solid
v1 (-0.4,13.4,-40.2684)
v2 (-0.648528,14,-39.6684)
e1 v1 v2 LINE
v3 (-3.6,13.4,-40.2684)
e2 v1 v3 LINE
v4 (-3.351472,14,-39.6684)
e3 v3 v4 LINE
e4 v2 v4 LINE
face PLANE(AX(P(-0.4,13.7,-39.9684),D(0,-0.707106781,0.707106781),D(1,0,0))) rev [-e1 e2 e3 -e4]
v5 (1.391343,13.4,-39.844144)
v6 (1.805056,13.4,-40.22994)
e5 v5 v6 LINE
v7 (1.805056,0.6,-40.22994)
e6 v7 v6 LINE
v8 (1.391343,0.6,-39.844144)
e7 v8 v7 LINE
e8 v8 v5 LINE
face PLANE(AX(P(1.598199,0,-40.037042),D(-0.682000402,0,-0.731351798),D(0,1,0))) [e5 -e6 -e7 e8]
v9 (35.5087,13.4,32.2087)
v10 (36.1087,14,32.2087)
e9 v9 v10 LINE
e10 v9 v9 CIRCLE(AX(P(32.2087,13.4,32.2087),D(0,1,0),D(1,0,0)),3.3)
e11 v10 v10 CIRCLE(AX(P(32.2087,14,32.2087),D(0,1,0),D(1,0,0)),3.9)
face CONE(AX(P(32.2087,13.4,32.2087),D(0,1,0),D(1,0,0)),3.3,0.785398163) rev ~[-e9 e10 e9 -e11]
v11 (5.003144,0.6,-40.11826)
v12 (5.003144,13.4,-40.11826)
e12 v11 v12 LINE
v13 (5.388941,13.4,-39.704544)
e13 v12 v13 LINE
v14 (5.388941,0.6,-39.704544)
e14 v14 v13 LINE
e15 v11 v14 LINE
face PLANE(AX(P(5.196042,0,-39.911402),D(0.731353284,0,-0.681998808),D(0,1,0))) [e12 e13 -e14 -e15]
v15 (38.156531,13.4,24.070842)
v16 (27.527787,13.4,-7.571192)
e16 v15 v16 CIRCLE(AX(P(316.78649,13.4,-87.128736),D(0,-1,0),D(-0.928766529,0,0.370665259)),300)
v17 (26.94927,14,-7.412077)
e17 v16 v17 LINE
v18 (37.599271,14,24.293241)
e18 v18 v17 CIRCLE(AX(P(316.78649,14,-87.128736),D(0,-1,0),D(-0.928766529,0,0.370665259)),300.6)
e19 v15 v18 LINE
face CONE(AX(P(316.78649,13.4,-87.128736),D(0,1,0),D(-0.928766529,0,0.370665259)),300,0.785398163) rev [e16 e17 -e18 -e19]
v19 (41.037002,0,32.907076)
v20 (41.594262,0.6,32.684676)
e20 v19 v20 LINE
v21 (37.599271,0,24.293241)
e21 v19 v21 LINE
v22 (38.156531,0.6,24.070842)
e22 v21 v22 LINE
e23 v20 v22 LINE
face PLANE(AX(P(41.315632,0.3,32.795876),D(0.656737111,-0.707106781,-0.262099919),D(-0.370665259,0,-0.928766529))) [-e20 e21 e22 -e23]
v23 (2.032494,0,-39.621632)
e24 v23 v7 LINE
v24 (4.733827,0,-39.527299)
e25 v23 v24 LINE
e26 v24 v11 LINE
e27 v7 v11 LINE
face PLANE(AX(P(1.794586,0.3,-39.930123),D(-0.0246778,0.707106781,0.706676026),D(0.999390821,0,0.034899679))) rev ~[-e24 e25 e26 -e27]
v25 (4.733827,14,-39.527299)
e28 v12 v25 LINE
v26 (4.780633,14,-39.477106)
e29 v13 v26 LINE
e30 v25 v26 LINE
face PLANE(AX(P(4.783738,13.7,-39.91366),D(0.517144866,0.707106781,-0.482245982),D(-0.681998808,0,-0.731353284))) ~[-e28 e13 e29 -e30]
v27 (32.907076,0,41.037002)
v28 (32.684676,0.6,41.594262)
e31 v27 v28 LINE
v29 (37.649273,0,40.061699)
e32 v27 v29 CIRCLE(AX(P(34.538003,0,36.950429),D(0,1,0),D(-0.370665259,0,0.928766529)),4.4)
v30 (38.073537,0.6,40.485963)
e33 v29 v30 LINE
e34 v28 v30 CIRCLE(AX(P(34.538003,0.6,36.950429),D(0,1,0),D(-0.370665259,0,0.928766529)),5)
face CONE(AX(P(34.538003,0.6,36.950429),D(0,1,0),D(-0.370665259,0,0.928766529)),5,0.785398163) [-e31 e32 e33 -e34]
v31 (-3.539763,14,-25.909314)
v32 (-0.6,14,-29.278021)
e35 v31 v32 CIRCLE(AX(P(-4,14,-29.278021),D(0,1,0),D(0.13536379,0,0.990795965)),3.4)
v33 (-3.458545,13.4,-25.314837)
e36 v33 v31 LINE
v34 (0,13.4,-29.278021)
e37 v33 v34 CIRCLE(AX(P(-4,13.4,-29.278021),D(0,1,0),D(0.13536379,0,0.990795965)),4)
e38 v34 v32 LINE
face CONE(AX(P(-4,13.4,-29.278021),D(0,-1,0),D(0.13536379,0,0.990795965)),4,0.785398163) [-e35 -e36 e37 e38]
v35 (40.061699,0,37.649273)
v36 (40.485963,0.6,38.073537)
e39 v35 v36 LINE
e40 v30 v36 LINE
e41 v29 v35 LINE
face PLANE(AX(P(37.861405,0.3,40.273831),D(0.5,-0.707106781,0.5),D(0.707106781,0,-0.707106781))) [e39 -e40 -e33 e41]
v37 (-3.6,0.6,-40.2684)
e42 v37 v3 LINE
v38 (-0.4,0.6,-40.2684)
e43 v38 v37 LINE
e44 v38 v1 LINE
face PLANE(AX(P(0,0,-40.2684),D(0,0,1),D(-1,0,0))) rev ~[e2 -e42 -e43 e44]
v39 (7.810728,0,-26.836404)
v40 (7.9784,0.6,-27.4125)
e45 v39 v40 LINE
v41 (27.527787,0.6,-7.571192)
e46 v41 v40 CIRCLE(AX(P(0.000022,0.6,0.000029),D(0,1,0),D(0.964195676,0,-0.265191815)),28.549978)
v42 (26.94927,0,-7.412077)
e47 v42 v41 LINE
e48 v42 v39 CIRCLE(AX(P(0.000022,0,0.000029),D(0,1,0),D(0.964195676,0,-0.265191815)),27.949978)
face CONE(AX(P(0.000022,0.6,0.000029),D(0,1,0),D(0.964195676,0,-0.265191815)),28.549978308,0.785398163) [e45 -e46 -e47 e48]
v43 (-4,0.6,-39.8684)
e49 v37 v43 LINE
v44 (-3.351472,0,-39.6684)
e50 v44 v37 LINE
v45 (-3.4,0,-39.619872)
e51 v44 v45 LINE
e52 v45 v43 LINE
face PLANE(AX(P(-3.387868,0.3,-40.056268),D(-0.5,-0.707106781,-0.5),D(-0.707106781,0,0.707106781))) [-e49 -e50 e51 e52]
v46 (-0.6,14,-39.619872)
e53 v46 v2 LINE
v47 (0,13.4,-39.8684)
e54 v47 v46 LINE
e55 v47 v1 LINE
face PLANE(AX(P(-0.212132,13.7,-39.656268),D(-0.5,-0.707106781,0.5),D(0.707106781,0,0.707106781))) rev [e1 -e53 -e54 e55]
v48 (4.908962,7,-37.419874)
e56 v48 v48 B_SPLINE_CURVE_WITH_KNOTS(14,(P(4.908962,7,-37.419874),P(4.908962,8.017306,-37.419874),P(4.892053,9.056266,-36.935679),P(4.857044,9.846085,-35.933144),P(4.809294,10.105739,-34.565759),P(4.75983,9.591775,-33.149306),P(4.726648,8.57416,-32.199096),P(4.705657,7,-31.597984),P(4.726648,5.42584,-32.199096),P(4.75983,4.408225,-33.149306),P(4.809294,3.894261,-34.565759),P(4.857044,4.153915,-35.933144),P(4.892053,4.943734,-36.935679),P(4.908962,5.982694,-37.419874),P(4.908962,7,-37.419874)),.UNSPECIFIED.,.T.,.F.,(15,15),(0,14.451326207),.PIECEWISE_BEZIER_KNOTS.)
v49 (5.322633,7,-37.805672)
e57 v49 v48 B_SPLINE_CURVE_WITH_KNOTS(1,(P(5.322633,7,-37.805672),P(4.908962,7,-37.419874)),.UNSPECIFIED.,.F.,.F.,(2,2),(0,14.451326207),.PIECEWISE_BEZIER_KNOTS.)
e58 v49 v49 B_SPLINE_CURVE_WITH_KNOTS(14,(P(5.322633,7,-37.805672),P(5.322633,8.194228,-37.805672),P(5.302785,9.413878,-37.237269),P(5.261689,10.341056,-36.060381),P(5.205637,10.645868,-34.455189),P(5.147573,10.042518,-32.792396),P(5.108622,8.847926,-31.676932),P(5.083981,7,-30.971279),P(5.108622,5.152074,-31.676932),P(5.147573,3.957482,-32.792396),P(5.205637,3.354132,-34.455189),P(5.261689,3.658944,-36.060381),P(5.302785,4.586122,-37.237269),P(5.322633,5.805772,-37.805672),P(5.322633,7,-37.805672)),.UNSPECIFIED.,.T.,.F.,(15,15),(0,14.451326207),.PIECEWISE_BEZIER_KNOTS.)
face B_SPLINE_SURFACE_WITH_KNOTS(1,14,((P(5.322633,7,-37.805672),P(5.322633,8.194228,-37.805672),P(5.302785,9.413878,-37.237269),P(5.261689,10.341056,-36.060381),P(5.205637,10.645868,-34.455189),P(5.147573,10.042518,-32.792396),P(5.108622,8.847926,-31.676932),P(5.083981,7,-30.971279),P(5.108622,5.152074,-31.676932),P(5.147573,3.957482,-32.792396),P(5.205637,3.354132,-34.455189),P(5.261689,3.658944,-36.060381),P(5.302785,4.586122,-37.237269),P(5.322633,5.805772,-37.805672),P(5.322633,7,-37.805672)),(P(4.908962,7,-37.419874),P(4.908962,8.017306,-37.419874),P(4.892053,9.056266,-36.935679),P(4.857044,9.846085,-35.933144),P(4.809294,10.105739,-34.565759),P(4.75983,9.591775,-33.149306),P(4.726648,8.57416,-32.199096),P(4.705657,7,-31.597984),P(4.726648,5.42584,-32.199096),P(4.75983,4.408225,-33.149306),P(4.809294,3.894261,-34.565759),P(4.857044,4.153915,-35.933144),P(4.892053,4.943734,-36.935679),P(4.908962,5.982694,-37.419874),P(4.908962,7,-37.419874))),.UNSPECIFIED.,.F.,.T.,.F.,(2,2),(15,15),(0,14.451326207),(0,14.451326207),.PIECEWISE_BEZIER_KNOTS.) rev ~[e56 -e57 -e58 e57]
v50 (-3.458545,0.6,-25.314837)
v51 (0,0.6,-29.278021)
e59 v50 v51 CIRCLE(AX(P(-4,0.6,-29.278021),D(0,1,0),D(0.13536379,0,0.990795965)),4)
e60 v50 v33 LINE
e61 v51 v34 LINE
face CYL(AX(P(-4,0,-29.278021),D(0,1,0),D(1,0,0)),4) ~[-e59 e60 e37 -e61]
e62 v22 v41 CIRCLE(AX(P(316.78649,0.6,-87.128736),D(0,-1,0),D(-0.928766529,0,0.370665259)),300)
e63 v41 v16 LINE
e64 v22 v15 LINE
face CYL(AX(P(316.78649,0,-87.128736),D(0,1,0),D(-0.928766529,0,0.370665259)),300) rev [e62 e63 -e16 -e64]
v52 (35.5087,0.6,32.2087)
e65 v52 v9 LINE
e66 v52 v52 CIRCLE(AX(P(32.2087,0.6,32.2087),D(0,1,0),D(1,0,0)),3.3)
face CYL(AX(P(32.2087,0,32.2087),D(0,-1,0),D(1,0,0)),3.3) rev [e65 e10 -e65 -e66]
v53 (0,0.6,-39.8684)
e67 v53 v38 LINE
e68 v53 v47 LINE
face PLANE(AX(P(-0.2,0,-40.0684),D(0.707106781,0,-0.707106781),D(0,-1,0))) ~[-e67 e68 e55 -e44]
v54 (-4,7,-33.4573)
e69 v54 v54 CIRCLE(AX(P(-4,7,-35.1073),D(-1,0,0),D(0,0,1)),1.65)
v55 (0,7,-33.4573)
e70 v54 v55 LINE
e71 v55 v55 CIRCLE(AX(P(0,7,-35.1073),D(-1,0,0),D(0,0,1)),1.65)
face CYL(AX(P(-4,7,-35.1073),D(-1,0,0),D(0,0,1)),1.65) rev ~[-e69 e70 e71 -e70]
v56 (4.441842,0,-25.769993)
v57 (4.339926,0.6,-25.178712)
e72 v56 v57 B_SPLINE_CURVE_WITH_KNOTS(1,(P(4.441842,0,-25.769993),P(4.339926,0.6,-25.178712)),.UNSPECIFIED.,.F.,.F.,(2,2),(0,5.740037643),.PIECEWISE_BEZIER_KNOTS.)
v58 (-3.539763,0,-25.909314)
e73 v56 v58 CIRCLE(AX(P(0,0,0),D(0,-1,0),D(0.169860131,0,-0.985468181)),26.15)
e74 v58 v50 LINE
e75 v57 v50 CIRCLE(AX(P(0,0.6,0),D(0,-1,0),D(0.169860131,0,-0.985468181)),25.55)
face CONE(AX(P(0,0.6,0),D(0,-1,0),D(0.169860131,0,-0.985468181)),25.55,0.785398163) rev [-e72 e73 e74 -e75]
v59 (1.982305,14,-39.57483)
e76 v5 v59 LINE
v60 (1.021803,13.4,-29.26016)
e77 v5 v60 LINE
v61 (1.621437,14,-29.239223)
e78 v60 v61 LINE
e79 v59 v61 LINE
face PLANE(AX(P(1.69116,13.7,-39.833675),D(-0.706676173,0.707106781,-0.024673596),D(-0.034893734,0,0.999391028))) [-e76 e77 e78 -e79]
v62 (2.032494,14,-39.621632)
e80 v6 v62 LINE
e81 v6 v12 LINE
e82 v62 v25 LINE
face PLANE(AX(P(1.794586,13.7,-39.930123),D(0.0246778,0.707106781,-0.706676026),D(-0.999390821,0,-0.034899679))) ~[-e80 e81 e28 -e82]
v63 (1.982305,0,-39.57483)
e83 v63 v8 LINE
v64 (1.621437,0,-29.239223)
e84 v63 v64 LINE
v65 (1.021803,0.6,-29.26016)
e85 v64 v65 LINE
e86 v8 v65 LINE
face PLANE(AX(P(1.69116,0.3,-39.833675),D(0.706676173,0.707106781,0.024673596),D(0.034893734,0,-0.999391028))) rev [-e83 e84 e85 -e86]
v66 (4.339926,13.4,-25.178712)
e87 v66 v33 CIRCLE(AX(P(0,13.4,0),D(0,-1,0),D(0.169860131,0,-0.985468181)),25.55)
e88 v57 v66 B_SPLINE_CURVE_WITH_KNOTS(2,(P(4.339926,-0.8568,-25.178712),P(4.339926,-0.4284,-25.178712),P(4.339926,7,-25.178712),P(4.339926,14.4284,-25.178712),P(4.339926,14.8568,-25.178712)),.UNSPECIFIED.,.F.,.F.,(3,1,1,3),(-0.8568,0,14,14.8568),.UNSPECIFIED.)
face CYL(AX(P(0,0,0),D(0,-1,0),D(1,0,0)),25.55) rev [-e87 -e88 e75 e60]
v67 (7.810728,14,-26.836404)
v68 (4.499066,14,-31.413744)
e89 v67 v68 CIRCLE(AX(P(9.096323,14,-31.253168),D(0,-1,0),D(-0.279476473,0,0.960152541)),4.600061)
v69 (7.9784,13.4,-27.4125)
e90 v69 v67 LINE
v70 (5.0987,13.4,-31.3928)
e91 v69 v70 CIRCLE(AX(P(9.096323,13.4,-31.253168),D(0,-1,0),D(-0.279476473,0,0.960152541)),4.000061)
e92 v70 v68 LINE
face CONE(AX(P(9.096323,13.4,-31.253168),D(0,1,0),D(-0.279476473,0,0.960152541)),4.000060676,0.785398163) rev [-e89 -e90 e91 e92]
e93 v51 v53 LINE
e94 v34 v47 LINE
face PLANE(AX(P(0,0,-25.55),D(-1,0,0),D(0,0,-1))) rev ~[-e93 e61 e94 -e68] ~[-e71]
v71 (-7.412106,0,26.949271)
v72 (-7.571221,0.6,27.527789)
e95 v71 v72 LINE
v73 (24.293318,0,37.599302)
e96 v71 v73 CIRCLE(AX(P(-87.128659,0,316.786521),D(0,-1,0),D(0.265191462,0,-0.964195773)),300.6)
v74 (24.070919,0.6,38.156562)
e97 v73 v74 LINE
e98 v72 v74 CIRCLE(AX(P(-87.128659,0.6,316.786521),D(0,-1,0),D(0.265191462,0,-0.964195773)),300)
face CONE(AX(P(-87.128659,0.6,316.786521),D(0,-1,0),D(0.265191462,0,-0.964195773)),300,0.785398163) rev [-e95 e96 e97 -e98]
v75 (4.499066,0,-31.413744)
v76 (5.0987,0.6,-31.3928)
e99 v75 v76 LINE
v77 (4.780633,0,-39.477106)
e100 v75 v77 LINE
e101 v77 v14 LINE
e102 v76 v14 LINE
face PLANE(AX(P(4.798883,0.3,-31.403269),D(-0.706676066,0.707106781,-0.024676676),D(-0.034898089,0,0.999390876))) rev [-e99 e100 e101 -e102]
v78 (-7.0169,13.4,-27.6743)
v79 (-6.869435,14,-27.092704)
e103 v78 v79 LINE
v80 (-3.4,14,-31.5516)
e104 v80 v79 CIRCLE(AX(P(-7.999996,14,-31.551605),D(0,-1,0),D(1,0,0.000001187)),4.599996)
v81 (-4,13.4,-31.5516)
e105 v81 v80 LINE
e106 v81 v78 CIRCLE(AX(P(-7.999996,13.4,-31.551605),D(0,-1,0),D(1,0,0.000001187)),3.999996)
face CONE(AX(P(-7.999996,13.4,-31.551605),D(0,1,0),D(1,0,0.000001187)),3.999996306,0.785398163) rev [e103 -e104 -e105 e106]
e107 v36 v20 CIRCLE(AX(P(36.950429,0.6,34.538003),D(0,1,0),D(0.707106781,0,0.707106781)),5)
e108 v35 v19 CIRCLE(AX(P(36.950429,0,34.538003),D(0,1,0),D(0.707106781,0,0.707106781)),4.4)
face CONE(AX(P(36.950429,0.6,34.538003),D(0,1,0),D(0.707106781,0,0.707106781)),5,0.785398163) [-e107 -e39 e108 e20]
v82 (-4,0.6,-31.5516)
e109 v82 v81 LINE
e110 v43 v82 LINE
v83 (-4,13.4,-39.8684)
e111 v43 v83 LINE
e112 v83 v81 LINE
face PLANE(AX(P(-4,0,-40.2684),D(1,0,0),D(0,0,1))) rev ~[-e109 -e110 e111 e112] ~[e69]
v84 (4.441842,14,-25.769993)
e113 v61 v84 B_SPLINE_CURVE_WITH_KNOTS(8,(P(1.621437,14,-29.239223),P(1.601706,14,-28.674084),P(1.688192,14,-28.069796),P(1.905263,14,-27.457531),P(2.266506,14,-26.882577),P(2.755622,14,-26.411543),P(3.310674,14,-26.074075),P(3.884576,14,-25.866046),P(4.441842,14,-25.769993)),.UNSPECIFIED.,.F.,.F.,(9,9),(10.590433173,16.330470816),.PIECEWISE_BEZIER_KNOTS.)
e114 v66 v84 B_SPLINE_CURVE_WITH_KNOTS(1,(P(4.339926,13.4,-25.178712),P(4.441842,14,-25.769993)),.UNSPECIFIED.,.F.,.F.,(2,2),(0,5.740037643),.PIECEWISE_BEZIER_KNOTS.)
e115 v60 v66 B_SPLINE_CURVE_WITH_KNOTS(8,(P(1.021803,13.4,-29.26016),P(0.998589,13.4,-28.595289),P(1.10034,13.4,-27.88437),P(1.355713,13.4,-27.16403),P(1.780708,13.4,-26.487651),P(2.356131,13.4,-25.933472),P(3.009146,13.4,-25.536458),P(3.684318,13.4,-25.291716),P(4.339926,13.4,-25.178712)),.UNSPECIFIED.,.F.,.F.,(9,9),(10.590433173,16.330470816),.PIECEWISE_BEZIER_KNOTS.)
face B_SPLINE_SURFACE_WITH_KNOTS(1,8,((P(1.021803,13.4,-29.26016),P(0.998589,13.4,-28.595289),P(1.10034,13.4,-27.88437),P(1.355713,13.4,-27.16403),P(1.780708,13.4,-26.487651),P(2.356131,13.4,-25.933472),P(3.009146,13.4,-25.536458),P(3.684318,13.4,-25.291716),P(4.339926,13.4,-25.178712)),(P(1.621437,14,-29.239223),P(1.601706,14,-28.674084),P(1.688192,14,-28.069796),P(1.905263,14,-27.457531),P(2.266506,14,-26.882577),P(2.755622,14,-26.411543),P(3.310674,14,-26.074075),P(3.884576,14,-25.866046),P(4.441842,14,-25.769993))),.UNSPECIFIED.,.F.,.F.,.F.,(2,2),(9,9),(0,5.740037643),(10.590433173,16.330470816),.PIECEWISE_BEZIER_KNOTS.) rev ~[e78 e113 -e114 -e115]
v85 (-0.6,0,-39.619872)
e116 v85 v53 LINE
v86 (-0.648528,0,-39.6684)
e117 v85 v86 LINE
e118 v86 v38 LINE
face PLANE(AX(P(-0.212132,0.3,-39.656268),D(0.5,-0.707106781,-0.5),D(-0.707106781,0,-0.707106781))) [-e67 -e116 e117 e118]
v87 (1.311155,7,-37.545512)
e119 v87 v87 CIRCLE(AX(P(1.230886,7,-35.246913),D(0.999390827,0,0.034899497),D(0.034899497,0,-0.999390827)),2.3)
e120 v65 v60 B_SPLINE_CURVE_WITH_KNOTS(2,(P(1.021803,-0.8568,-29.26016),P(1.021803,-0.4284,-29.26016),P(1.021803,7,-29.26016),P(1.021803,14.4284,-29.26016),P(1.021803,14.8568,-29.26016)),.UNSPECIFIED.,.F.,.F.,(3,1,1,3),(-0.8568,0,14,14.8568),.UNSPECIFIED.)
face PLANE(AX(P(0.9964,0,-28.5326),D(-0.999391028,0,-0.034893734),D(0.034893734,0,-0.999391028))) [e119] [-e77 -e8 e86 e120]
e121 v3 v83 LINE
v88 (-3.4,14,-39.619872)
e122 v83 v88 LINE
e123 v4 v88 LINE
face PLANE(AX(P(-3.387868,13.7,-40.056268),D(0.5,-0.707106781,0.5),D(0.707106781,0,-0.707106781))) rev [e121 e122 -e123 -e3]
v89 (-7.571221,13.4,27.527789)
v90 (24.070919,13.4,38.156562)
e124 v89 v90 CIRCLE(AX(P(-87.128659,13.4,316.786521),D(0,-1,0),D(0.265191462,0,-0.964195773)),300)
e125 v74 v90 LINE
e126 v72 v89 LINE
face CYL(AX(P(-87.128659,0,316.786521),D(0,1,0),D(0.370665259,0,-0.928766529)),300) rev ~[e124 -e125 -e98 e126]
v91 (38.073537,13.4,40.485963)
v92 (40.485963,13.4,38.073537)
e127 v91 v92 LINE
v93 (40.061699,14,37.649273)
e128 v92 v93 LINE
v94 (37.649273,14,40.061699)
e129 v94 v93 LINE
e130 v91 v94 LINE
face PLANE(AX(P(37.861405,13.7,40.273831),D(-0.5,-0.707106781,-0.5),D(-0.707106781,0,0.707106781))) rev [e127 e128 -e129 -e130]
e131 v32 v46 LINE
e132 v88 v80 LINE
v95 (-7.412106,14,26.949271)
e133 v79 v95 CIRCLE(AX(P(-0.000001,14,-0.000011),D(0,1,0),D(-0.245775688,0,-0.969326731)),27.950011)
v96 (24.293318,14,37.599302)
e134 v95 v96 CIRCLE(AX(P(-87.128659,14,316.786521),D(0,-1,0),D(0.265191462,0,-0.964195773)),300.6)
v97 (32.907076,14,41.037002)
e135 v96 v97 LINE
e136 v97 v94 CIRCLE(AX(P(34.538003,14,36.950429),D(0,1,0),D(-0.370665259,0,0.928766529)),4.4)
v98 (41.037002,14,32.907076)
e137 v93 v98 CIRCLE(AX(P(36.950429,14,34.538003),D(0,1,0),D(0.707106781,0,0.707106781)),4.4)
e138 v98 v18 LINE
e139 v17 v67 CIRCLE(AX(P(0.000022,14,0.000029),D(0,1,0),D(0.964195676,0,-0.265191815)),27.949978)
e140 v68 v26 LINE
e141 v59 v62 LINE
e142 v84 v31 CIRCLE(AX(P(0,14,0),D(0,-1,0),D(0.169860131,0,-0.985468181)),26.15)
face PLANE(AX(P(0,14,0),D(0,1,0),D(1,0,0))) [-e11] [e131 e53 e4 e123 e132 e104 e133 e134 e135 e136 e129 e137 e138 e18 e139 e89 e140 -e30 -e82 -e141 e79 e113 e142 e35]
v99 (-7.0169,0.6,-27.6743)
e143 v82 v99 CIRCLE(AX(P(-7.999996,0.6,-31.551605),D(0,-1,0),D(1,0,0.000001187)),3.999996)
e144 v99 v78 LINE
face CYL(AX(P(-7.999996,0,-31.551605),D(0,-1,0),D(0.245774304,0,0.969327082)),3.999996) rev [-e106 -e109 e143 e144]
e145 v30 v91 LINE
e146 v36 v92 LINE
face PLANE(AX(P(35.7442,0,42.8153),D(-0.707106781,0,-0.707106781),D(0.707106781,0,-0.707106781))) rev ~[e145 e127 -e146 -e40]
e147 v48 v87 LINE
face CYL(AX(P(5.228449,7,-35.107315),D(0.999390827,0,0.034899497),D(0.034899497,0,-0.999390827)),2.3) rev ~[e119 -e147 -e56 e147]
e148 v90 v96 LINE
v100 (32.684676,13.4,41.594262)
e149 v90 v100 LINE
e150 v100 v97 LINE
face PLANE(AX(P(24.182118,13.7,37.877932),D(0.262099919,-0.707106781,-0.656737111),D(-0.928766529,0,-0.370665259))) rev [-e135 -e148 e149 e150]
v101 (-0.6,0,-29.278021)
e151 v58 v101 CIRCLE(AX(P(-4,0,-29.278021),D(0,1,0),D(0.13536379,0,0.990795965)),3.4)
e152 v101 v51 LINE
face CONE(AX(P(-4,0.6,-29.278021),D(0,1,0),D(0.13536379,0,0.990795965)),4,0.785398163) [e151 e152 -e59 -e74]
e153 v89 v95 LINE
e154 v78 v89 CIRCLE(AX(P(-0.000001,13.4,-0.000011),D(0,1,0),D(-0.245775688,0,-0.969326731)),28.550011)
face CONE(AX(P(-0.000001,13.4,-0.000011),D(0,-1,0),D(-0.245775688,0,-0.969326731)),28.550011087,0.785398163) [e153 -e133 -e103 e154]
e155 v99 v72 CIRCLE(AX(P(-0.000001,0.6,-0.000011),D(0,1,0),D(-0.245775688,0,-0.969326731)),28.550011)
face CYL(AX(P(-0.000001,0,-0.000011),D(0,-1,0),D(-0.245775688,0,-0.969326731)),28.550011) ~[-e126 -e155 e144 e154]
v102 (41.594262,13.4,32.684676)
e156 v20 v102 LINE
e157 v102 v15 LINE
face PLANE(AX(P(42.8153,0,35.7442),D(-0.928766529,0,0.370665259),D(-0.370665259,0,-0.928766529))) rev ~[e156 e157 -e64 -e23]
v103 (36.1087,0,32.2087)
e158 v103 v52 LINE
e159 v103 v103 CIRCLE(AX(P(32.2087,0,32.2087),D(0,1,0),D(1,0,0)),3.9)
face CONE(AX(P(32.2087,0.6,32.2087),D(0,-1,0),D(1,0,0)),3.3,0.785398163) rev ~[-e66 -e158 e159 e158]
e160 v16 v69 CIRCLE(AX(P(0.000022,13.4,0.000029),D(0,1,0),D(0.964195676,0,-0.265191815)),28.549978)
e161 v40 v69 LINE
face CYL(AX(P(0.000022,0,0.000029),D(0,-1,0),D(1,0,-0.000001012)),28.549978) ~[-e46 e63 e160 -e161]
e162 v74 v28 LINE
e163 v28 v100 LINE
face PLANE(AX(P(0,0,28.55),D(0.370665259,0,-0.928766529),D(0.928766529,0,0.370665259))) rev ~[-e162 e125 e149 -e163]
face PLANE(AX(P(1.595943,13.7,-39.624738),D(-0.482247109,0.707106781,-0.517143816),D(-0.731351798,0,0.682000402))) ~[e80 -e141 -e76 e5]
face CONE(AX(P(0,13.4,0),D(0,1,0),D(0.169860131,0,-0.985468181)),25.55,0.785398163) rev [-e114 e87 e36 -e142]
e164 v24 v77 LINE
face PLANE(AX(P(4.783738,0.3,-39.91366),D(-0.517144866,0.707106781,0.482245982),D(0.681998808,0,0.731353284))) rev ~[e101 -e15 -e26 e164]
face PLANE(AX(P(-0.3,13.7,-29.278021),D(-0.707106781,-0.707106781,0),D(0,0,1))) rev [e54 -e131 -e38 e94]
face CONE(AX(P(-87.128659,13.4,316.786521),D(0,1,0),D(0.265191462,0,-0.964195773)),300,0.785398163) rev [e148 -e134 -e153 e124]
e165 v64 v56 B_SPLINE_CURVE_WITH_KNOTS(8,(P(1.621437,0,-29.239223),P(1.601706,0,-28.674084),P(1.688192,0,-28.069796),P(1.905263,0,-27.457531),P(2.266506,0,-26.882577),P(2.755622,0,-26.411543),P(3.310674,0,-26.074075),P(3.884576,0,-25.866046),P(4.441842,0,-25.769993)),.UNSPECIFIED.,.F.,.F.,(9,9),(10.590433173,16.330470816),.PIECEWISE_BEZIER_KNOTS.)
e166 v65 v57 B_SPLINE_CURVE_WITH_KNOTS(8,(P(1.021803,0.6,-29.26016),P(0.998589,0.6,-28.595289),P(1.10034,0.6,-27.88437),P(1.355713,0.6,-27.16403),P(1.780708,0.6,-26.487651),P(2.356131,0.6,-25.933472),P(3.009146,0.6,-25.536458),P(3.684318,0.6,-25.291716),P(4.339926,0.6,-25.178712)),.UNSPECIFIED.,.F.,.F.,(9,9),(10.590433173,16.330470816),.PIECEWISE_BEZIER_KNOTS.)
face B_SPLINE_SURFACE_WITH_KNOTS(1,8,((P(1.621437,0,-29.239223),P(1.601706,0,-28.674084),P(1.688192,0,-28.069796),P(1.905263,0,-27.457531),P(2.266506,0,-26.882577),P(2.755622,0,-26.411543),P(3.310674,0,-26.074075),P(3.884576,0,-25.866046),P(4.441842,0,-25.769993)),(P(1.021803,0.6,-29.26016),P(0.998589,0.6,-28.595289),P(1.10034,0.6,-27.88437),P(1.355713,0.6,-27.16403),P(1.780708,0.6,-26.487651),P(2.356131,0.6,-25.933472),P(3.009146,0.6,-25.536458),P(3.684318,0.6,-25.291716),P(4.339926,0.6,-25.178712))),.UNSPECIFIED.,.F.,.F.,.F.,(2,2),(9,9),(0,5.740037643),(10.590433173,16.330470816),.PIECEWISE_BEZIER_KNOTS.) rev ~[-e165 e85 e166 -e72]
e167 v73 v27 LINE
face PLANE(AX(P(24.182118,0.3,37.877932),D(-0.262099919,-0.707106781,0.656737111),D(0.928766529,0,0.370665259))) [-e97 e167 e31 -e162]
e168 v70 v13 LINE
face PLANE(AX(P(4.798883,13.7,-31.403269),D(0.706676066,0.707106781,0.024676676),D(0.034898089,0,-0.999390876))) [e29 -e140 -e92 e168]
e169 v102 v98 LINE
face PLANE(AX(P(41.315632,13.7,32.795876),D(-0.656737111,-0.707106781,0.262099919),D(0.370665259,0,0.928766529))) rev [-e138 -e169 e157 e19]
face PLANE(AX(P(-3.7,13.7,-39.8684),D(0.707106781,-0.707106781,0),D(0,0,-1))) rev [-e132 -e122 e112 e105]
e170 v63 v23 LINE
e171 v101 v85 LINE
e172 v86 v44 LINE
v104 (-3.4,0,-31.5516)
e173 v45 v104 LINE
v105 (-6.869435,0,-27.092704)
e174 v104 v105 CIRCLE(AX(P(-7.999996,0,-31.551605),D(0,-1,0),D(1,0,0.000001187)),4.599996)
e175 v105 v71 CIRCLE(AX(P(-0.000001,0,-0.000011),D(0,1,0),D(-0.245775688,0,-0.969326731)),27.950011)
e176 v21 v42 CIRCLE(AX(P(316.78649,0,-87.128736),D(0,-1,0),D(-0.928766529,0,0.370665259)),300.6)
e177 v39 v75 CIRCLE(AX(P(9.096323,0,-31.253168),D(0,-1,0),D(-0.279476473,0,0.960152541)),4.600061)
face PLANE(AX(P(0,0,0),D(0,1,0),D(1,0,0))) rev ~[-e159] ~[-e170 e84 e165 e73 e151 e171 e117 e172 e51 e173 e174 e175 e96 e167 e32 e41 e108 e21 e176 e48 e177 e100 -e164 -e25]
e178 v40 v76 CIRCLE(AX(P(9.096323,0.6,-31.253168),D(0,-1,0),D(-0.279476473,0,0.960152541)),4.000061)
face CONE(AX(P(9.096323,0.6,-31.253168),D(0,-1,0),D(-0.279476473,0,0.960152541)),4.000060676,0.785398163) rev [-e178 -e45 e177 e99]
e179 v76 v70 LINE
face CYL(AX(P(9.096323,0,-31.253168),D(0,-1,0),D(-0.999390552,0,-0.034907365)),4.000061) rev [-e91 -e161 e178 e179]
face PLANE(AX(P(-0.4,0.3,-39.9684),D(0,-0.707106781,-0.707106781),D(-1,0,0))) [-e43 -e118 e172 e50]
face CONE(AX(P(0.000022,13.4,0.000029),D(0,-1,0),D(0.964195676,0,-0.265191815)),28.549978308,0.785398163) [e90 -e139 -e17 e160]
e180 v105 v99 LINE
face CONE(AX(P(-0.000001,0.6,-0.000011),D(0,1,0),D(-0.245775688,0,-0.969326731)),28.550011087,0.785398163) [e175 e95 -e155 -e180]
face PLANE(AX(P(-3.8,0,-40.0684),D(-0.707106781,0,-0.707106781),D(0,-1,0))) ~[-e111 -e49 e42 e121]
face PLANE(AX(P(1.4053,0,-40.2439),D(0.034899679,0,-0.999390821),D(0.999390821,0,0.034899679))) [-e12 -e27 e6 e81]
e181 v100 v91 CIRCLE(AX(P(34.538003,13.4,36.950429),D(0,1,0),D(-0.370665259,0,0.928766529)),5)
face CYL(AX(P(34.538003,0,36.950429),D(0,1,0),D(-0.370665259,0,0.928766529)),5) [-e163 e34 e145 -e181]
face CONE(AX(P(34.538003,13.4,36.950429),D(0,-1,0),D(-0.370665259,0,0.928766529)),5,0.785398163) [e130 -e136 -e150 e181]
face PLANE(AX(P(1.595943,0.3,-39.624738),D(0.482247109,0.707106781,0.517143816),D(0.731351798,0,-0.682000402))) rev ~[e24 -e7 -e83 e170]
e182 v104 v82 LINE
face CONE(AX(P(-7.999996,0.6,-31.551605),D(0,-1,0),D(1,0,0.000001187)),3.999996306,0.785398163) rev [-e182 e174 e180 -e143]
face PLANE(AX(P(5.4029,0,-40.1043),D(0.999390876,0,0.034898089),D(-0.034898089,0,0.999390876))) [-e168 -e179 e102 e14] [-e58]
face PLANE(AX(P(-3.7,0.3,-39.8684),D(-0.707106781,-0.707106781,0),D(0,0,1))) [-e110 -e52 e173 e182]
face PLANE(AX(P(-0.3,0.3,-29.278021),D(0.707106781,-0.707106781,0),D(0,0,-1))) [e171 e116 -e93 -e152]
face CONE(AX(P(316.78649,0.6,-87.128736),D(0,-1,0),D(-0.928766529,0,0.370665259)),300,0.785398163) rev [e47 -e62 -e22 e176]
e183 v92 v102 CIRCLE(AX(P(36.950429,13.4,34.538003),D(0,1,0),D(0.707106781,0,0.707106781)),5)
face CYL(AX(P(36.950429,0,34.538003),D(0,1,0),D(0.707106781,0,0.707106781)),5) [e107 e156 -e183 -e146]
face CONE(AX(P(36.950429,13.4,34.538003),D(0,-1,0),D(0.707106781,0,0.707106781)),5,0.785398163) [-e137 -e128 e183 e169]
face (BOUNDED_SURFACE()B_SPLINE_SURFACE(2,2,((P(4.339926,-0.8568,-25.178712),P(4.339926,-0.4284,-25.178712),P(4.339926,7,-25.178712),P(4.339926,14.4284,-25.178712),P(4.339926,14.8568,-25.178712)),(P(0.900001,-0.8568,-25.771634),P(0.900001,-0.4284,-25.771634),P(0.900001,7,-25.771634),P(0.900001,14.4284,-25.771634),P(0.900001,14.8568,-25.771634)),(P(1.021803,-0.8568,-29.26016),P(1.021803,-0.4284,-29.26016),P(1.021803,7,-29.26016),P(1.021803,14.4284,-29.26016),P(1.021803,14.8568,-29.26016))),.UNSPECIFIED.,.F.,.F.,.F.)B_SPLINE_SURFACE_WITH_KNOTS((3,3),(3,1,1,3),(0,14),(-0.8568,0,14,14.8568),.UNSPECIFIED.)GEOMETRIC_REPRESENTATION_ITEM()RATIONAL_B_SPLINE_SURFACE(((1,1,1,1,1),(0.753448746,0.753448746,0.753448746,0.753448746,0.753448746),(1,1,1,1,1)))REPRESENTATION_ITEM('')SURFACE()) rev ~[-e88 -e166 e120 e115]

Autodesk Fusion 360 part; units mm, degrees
sketch "piston ref" plane through (0, 0, 0) normal (0, 1, 0) x (1, 0, 0)
  circle A0 centre (0, 0) radius 25.35
  circle A1 centre (0, 0) radius 25.55 construction
  dimension "d1" = 50.7
  dimension "d2" = 0.2
  dimension "d3" = 51.1
extrude "Extrude1" add sketch "piston ref" along normal blind 80 makes body 1
sketch "ring mounting" plane through (0, 0, 0) normal (0, 1, 0) x (1, 0, 0)
  circle A0 centre (0, 0) radius 25.55
  line L0 (0, 0) -> (0, 55) construction
  line L1 (0.9964, 28.5326) -> (1.4053, 40.2439)
  line L2 (0, 25.55) -> (0, 40.2684)
  line L3 (0, 40.2684) -> (-4, 40.2684)
  line L4 (-4, 40.2684) -> (-4, 31.5516)
  line L5 (1.4053, 40.2439) -> (5.4029, 40.1043)
  line L6 (5.4029, 40.1043) -> (5.0987, 31.3928)
  line L7 (0.9964, 28.5326) -> (0.8917, 25.5344)
  arc A1 (-7.0169, 27.6743) -> (-4, 31.5516) centre (-8, 31.5516) ccw
  arc A2 (5.0987, 31.3928) -> (7.9784, 27.4125) centre (9.0963, 31.2532) ccw
  line L8 (0, 0) -> (60.8712, -60.8712) construction
  line L9 (0, 0) -> (0, -44) construction
  line L10 (0, -28.55) -> (35.7442, -42.8153)
  line L11 (35.7442, -42.8153) -> (42.8153, -35.7442)
  line L12 (42.8153, -35.7442) -> (28.55, 0)
  line L13 (0, 0) -> (44, 0) construction
  arc A3 (-7.0169, 27.6743) -> (0, -28.55) centre (0, 0) ccw
  arc A4 (28.55, 0) -> (7.9784, 27.4125) centre (0, 0) ccw
  line L14 (18.0666, -18.0666) -> (1.7407, -34.3924) construction
  circle A5 centre (32.2087, -32.2087) radius 3.3
  line L15 (32.2087, -32.2087) -> (47.6032, -16.8142) construction
  point P0 (-4, 28.2684)
  point P1 (4.9841, 28.1116)
  dimension "d8" = 2
  dimension "d9" = 3
  dimension "d10" = 4
  dimension "d11" = 4
  dimension "d14" = 12
  dimension "d15" = 12
  dimension "d16" = 4
  dimension "d31" = 135
  dimension "d32" = 30
  dimension "d33" = 6.6
  dimension "d34" = 10
  dimension "d55" = 20
extrude "Extrude2" add sketch "ring mounting" along normal blind 14 separate body contours A0 L1 L2 L3 L4 L5 L6 L7 A1 A2 L10 L11 L12 A3 A4 makes body 2
sketch "heat insert hole" plane through (3.9976, 0, 0.1396) normal (0.999391, 0, 0.034899) x (0.034899, 0, -0.999391)
  line L0 (31.5516, 0) -> (40.2684, 0)
  line L1 (40.2684, 0) -> (40.2684, 14)
  line L2 (40.2684, 14) -> (31.5516, 14)
  line L3 (31.5516, 14) -> (31.5516, 0)
  circle A0 centre (35.2684, 7) radius 2.3
  line L4 (40.2684, 7) -> (31.5516, 7) construction
  line L5 (35.2684, 14) -> (35.2684, 0) construction
  dimension "d19" = 4.6
  dimension "d30" = 5
extrude "Extrude3" cut sketch "heat insert hole" against normal blind 4 contours A0 bodies 2
chamfer "Chamfer1" distance 0.4 angle 45 1 edges at (5.1536, 7.8317, -32.9643) on bodies 2
sketch "M3 hole" plane through (-4, 0, 0) normal (-1, 0, 0) x (0, 0, 1)
  line L0 (-40.2684, 0) -> (-31.5516, 0)
  line L1 (-31.5516, 0) -> (-31.5516, 14)
  line L2 (-31.5516, 14) -> (-40.2684, 14)
  line L3 (-40.2684, 14) -> (-40.2684, 0)
  ellipse E0 centre (-35.1073, 7) end of major axis (-35.1073, 9.3) minor radius 2.2986
  circle A0 centre (-35.1073, 7) radius 1.65
  dimension "d24" = 3.3
extrude "Extrude4" cut sketch "M3 hole" against normal blind 4 contours A0 bodies 2
fillet "Fillet1" radius 4 2 edges at (0, 7, -25.55) (0.8917, 7, -25.5344) on bodies 2
chamfer "Chamfer2" distance 0.4 angle 45 4 edges at (5.4029, 7, -40.1043) (1.4053, 7, -40.2439) (0, 7, -40.2684) (-4, 7, -40.2684) on bodies 2
fillet "Fillet2" radius 5 2 edges at (35.7442, 7, 42.8153) (42.8153, 7, 35.7442) on bodies 2
fillet "Fillet3" radius 300 2 edges at (28.55, 7, 0) (0, 7, 28.55) on bodies 2
chamfer "Chamfer6" distance 0.6 angle 45 2 faces at (28.301, 14, 19.6974) (28.301, 0, 19.6974) on bodies 2
chamfer "Chamfer5" [suppressed]
hidden bodies 1
equation "ringDistance = 20 mm"
